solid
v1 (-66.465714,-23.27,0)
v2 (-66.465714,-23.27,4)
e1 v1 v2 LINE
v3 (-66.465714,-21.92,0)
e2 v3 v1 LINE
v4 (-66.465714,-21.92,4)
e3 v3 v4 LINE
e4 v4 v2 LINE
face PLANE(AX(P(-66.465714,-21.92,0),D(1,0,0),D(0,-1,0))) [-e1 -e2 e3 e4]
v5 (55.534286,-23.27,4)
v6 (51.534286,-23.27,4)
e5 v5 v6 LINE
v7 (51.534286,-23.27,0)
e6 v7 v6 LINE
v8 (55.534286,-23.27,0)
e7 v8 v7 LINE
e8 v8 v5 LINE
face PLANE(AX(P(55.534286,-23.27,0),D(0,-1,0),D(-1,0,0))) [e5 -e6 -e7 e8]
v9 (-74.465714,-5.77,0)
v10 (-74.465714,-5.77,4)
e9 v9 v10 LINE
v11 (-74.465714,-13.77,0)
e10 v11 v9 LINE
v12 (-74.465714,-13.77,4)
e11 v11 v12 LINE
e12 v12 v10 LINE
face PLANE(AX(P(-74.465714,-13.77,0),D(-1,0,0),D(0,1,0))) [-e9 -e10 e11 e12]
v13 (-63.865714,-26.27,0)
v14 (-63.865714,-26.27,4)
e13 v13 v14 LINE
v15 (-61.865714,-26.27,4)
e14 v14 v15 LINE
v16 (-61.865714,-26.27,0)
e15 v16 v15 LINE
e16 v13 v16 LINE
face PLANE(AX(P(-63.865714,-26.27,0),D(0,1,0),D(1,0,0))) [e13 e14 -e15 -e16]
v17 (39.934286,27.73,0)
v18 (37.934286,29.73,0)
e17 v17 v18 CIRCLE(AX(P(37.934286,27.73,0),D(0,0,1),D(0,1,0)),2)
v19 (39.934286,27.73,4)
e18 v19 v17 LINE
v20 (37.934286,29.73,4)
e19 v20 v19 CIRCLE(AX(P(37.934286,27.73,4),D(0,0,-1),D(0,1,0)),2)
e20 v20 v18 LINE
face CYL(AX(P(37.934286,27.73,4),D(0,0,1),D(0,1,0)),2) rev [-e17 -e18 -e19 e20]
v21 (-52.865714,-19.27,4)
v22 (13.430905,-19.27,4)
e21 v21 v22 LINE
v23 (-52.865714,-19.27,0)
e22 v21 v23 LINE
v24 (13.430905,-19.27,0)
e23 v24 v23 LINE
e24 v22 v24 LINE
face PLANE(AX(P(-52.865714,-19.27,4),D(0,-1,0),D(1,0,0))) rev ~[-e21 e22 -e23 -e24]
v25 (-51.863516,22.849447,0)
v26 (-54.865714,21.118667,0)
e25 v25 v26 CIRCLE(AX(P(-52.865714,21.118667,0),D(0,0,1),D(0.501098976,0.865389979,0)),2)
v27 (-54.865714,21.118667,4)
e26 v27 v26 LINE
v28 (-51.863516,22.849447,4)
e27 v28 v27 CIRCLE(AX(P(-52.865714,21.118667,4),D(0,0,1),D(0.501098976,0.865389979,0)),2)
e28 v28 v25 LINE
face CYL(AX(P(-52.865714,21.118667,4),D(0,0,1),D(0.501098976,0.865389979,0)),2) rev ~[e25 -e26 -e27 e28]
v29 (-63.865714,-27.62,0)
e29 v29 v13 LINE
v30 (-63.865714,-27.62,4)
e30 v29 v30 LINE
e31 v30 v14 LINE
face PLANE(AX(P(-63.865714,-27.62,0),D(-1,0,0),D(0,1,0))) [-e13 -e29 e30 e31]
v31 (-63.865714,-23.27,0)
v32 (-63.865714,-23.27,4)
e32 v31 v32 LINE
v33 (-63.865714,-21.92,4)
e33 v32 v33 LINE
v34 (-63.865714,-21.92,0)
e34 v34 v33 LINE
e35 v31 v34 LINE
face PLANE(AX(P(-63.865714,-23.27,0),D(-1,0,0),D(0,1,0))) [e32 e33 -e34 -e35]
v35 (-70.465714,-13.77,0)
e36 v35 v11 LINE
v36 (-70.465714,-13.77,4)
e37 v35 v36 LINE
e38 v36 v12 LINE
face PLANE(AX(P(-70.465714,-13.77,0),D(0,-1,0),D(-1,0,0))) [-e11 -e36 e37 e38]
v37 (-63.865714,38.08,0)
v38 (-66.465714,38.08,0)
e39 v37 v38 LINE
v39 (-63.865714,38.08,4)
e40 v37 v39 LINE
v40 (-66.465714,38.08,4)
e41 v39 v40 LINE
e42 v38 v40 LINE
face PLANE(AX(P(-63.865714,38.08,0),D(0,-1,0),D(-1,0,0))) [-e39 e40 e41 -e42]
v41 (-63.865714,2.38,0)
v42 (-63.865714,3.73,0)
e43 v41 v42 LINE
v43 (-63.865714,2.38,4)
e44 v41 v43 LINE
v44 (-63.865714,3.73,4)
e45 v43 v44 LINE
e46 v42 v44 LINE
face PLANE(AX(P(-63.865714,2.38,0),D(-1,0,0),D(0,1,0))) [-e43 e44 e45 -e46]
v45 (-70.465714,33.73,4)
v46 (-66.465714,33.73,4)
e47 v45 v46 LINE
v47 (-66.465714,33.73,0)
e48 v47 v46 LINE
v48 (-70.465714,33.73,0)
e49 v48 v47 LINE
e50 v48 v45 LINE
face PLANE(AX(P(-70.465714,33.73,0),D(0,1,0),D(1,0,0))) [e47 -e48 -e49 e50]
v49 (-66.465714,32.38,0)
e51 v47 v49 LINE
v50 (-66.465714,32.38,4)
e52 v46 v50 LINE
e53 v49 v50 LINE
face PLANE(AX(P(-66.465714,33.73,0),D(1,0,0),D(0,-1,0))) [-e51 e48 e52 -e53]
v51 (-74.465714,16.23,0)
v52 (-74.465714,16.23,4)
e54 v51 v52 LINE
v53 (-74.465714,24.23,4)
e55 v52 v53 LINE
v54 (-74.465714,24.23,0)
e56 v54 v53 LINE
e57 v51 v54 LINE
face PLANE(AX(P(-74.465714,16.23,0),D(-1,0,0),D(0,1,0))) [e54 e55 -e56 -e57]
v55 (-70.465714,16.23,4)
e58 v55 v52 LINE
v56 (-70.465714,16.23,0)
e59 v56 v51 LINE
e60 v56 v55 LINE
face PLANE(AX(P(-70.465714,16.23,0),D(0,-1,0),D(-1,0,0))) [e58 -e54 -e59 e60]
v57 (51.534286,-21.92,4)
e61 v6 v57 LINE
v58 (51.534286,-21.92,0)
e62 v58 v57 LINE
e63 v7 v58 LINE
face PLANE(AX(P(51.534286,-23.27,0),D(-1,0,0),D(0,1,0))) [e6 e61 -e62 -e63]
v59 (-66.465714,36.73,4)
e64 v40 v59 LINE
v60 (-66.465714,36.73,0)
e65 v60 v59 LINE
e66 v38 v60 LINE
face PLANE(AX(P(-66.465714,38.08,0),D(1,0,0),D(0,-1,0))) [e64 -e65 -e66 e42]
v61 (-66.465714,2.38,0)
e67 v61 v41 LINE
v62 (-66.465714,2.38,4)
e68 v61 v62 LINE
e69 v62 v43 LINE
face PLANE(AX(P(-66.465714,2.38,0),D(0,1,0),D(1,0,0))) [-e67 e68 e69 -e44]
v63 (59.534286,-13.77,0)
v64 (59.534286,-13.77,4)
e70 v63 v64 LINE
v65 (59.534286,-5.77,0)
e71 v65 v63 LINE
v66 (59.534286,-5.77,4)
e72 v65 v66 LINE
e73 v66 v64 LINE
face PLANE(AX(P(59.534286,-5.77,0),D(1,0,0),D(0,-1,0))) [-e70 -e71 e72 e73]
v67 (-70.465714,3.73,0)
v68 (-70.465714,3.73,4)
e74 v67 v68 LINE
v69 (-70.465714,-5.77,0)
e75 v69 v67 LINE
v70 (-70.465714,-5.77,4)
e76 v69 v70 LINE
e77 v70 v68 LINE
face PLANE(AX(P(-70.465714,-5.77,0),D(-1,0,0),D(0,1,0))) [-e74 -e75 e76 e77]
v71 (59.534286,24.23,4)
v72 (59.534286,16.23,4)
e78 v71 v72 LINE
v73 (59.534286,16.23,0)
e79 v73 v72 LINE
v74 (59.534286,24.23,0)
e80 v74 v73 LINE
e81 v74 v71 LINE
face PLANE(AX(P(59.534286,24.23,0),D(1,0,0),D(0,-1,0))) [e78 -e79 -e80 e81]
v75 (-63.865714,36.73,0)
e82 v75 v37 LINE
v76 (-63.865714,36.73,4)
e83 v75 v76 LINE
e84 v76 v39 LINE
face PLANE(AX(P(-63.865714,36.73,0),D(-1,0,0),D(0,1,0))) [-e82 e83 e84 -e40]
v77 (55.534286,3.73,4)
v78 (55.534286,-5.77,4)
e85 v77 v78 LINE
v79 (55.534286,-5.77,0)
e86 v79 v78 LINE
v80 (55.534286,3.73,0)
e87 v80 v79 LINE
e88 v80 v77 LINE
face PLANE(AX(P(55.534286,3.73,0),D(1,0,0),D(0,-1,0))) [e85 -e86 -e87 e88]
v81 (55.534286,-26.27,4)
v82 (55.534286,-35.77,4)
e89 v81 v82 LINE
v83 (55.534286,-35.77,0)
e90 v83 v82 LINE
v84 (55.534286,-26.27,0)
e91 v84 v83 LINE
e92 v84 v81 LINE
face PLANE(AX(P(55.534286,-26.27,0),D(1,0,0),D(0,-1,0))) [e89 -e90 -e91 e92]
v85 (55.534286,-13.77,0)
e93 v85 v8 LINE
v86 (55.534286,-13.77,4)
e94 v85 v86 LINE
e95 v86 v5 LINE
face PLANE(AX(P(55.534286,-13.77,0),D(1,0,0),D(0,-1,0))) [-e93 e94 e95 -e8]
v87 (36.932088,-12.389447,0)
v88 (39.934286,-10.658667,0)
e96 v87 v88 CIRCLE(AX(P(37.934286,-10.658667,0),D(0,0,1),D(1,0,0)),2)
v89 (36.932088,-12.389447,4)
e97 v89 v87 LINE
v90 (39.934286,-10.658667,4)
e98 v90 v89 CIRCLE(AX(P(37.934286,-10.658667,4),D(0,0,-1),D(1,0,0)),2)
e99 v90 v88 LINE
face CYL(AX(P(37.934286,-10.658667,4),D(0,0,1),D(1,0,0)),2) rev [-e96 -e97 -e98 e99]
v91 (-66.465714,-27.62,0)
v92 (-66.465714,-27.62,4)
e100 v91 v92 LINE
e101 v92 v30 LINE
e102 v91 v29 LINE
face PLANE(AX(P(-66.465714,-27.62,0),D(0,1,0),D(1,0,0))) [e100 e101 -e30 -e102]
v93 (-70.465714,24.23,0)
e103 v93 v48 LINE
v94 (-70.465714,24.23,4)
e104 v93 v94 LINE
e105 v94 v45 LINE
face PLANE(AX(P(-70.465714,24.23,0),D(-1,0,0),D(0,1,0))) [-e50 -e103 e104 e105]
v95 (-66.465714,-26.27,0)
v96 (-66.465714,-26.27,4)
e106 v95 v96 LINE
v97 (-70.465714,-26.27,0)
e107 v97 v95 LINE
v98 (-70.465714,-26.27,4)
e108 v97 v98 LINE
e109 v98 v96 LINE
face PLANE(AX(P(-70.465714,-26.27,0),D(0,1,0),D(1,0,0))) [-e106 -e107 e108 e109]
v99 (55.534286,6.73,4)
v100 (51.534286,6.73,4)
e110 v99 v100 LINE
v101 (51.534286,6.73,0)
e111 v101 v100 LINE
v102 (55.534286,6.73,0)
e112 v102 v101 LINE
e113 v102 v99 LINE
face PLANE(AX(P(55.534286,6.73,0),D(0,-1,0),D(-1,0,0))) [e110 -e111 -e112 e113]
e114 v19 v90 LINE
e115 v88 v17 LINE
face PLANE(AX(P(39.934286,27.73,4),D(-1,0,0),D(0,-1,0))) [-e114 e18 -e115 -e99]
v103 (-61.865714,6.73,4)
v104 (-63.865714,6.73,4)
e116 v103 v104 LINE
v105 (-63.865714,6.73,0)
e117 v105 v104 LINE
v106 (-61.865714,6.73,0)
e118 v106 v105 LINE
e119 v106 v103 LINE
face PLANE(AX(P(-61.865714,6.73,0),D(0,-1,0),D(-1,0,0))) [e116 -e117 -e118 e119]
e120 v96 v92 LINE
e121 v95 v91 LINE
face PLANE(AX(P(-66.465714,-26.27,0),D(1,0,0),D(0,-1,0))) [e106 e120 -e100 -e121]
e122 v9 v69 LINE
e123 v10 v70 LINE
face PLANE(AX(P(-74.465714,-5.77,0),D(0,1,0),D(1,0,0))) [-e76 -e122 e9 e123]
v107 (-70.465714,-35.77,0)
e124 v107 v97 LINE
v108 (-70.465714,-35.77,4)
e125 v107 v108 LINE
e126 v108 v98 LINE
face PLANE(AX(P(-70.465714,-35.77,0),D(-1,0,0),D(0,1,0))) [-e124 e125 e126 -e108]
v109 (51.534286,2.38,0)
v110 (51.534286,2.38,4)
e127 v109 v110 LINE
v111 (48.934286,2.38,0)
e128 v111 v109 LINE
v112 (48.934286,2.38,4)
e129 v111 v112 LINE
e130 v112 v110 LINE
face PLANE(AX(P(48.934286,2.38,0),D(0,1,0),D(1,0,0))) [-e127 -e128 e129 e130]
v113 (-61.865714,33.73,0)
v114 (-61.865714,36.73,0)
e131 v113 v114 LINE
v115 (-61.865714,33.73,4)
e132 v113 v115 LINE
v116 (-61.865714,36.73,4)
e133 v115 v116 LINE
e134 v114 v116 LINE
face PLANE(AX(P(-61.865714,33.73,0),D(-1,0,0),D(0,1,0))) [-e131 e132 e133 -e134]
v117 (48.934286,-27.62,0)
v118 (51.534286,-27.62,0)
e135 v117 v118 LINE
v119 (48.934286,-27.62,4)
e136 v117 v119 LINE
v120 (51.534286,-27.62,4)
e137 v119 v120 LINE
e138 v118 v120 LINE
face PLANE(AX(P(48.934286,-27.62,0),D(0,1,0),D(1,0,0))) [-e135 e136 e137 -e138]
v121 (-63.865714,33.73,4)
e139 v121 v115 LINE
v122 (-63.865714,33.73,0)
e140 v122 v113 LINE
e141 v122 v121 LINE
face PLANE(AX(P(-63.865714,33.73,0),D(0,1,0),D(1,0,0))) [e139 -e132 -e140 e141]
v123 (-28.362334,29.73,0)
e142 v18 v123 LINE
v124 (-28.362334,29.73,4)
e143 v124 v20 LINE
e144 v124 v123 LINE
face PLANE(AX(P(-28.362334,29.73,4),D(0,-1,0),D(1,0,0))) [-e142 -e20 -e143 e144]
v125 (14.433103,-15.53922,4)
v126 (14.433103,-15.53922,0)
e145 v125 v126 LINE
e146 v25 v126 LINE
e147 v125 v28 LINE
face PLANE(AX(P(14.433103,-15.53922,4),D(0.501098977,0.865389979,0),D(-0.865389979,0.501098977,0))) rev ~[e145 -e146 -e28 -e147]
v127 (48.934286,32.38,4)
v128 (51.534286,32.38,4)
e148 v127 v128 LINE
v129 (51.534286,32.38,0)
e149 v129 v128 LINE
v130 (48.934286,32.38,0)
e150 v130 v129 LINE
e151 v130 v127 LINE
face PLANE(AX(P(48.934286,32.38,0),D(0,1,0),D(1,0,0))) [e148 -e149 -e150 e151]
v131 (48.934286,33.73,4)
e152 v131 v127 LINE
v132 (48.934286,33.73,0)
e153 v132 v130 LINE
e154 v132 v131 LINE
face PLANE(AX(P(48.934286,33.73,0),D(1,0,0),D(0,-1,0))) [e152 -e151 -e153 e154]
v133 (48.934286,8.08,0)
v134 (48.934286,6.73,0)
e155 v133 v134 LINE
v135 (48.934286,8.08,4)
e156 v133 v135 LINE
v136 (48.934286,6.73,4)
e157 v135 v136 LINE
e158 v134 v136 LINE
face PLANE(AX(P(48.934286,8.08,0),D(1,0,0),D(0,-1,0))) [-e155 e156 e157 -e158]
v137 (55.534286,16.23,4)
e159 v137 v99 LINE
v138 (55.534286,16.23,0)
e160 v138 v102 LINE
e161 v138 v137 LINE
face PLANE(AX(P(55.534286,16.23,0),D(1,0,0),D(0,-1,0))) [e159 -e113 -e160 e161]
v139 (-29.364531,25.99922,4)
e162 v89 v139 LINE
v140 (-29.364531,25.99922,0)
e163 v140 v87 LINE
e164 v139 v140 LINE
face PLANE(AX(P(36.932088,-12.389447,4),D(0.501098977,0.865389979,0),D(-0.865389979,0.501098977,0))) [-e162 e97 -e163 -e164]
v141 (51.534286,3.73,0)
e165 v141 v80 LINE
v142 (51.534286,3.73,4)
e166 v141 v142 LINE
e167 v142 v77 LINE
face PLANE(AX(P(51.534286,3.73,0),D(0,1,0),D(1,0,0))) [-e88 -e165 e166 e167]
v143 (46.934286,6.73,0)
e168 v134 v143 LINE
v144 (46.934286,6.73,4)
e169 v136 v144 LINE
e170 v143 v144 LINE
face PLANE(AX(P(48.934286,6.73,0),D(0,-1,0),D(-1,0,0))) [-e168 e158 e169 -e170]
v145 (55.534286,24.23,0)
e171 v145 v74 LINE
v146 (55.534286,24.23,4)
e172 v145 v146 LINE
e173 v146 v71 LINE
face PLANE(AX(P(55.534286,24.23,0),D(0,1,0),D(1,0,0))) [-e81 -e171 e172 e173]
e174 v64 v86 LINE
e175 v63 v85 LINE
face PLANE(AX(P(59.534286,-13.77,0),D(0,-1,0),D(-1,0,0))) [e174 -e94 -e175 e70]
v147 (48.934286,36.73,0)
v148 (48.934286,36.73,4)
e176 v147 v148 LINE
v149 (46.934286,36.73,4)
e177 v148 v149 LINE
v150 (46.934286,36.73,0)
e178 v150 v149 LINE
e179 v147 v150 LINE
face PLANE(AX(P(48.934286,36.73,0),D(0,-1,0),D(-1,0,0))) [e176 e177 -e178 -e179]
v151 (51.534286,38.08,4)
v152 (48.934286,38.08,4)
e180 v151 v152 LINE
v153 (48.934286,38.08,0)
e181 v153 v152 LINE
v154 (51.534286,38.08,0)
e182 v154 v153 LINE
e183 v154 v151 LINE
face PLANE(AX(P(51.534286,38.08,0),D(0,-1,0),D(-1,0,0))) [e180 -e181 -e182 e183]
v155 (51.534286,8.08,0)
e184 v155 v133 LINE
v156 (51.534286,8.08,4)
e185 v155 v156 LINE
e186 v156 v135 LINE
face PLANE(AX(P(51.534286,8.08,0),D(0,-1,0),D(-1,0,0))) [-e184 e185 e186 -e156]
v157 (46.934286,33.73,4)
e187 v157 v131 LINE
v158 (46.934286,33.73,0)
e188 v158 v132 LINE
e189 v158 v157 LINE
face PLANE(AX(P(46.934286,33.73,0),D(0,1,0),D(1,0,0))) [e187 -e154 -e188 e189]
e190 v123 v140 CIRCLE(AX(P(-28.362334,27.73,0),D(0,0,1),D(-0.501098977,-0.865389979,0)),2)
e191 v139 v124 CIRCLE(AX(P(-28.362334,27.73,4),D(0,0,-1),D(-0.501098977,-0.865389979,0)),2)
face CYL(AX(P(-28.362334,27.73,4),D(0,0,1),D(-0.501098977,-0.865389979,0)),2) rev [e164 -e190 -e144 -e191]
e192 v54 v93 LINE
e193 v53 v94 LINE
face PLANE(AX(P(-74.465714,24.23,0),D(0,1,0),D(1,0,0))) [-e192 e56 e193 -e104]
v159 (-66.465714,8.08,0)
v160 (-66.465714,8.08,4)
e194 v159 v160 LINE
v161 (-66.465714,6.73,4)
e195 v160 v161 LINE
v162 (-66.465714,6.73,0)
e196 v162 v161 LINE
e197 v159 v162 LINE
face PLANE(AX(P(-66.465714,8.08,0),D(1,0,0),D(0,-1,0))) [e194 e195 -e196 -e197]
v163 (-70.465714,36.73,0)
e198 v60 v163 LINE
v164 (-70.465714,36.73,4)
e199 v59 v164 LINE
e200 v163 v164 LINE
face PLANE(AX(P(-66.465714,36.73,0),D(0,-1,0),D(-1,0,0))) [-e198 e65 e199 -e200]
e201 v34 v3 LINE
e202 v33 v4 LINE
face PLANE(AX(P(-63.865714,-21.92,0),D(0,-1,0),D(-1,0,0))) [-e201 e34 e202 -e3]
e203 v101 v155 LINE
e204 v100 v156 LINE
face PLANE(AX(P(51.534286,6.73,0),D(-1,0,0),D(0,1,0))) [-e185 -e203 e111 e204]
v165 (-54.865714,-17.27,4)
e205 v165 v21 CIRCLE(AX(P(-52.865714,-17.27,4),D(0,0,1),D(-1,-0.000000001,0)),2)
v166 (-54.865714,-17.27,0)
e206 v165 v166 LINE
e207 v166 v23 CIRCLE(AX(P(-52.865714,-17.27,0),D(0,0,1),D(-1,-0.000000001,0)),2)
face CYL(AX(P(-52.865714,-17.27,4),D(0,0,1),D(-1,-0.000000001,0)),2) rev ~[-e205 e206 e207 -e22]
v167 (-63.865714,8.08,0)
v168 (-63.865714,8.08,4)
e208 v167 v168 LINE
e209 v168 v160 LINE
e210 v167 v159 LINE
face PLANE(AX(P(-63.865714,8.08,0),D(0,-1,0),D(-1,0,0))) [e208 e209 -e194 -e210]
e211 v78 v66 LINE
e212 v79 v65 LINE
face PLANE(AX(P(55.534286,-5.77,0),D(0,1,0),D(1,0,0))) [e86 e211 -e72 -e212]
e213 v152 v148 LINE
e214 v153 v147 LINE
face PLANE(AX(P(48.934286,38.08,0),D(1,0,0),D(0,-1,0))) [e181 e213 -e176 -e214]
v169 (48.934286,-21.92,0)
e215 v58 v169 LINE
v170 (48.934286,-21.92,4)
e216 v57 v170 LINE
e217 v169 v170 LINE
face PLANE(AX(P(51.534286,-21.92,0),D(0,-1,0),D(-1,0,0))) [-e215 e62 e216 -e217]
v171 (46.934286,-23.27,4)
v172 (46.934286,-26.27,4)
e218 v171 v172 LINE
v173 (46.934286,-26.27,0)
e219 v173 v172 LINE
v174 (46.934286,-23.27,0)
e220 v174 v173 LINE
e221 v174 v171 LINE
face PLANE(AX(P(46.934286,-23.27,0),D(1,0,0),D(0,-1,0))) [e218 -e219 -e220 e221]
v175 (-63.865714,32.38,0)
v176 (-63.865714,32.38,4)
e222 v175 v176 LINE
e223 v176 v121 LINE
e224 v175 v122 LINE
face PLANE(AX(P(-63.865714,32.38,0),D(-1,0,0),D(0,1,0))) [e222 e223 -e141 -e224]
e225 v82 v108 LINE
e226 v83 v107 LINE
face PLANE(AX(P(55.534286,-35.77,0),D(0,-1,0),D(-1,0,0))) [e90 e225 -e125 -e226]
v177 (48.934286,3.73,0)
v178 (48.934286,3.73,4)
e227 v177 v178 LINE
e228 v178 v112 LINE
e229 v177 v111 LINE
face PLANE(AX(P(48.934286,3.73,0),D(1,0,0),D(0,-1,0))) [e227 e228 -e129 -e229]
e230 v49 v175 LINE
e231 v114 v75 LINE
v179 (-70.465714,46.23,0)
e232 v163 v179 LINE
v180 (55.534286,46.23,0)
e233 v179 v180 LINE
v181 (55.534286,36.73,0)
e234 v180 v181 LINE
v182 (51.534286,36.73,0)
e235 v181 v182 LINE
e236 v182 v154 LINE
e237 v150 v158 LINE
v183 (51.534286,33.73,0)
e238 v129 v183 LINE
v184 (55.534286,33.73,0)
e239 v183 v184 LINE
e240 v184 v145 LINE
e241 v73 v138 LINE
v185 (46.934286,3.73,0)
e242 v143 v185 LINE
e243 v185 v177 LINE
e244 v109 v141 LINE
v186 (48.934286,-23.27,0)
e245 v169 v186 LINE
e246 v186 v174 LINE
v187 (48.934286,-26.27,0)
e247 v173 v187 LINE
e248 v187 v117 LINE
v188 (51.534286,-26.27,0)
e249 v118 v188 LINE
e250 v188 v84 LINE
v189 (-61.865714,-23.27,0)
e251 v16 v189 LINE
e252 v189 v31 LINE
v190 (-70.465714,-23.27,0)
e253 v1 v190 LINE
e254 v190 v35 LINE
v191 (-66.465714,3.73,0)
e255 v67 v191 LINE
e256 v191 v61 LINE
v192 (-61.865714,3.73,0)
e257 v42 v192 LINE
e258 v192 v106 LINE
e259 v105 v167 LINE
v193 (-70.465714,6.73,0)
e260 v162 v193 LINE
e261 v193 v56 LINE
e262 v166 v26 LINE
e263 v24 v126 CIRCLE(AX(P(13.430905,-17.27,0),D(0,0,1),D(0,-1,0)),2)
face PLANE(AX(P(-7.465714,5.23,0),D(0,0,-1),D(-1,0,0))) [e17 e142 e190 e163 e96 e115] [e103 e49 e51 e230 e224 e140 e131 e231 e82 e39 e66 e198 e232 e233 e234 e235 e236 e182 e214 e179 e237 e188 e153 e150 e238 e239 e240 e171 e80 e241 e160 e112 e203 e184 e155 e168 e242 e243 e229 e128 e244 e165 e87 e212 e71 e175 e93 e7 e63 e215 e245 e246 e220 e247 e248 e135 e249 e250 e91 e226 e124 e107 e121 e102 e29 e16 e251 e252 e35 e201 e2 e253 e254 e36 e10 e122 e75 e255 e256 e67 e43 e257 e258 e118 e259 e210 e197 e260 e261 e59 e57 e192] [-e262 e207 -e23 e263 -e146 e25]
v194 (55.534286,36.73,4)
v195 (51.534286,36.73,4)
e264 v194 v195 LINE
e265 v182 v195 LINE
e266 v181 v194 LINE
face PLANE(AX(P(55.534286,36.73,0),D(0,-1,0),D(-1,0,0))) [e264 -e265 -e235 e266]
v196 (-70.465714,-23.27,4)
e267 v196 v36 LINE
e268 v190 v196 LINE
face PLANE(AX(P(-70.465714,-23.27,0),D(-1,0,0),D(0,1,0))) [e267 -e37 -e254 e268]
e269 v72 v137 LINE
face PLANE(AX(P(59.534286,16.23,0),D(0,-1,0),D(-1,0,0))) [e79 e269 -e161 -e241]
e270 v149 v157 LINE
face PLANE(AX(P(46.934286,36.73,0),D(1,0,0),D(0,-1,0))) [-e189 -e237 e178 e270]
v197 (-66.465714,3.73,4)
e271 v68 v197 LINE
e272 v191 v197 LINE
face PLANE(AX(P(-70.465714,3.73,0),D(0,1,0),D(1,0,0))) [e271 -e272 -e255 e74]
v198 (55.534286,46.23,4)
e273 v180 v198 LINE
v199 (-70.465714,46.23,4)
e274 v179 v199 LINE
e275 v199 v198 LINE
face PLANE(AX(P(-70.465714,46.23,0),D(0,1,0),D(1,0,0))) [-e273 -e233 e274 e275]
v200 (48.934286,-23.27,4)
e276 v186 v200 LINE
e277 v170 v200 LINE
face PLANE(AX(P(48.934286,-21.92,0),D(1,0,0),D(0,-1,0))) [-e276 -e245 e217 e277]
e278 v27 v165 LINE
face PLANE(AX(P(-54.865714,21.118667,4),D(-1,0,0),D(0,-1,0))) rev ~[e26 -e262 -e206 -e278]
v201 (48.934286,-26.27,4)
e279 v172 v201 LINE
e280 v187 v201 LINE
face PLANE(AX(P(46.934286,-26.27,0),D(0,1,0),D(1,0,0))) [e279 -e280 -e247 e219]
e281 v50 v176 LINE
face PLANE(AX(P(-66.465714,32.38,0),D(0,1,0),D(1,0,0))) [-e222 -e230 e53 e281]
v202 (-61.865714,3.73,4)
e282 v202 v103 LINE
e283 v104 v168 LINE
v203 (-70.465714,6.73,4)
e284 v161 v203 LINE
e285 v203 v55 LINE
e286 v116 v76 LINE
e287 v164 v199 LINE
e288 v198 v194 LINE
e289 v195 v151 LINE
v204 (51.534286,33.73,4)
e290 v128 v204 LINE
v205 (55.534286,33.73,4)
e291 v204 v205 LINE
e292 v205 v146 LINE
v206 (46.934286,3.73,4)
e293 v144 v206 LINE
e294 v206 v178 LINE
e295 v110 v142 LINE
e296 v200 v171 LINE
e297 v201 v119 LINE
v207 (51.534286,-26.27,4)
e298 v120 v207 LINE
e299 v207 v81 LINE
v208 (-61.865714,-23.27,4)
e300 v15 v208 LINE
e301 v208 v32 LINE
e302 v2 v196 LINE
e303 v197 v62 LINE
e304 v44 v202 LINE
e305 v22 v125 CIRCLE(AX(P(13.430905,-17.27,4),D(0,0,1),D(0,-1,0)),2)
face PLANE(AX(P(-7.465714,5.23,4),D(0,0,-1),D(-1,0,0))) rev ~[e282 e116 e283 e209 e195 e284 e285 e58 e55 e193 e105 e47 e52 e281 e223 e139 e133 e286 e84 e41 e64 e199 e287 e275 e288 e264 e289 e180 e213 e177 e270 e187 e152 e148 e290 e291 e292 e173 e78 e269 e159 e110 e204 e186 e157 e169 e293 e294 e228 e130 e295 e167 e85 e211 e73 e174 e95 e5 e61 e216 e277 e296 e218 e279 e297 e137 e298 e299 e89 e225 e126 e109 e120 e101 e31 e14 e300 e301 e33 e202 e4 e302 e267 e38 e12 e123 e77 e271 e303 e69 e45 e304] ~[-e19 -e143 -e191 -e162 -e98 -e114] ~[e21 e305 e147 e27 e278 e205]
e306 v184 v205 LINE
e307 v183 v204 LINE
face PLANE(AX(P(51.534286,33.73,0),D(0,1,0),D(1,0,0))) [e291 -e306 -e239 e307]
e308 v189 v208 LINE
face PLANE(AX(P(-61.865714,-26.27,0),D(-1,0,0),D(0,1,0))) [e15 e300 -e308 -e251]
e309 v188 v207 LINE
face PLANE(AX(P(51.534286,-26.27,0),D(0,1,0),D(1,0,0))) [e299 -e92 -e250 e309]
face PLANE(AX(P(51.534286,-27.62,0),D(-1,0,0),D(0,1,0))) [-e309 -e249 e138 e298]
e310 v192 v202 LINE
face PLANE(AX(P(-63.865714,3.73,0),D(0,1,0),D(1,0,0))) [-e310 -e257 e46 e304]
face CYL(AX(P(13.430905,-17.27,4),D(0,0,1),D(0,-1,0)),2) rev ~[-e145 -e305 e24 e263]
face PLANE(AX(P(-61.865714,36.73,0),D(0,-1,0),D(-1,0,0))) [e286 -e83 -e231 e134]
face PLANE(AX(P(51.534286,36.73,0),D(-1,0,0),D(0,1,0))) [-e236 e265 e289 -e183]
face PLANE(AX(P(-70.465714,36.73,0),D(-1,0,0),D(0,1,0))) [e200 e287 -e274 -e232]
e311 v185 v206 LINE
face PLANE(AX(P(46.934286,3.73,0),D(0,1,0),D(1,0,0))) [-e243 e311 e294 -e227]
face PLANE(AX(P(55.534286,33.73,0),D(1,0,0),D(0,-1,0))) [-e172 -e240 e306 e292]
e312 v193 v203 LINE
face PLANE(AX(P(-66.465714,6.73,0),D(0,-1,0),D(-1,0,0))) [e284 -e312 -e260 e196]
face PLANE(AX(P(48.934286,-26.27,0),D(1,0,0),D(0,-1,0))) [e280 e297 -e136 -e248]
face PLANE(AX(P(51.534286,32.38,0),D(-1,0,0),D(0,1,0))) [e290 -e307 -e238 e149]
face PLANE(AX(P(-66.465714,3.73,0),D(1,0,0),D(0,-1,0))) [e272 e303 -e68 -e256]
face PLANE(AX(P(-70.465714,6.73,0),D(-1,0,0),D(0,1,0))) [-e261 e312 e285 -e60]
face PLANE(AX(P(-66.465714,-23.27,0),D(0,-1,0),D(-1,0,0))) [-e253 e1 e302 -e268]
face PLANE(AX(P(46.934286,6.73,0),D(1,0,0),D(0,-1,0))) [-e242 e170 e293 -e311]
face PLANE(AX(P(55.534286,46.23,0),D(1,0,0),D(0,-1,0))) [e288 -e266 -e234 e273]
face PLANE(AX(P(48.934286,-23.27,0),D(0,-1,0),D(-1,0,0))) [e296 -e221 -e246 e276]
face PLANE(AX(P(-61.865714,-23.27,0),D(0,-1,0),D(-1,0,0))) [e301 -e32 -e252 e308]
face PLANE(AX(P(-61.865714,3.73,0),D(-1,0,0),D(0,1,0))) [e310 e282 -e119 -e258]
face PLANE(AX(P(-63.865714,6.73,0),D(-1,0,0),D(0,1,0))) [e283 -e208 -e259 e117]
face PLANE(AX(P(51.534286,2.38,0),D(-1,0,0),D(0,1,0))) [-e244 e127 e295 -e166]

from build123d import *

# Parameters (mm, degrees)
EXTRUDE_1_DEPTH     = 4
CUT_EXTRUDE_1_DEPTH = 10


with BuildPart() as part:
    # 草图1 → 凸台-拉伸1 (new body)
    with BuildSketch(Plane.XY):
        Polygon((55.534285714, 24.23), (59.534285714, 24.23), (59.534285714, 16.23), (55.534285714, 16.23), (55.534285714, 6.73), (51.534285714, 6.73), (51.534285714, 8.08), (48.934285714, 8.08), (48.934285714, 6.73), (46.934285714, 6.73), (46.934285714, 3.73), (48.934285714, 3.73), (48.934285714, 2.38), (51.534285714, 2.38), (51.534285714, 3.73), (55.534285714, 3.73), (55.534285714, -5.77), (59.534285714, -5.77), (59.534285714, -13.77), (55.534285714, -13.77), (55.534285714, -23.27), (51.534285714, -23.27), (51.534285714, -21.92), (48.934285714, -21.92), (48.934285714, -23.27), (46.934285714, -23.27), (46.934285714, -26.27), (48.934285714, -26.27), (48.934285714, -27.62), (51.534285714, -27.62), (51.534285714, -26.27), (55.534285714, -26.27), (55.534285714, -35.77), (-70.465714286, -35.77), (-70.465714286, -26.27), (-66.465714286, -26.27), (-66.465714286, -27.62), (-63.865714286, -27.62), (-63.865714286, -26.27), (-61.865714286, -26.27), (-61.865714286, -23.27), (-63.865714286, -23.27), (-63.865714286, -21.92), (-66.465714286, -21.92), (-66.465714286, -23.27), (-70.465714286, -23.27), (-70.465714286, -13.77), (-74.465714286, -13.77), (-74.465714286, -5.77), (-70.465714286, -5.77), (-70.465714286, 3.73), (-66.465714286, 3.73), (-66.465714286, 2.38), (-63.865714286, 2.38), (-63.865714286, 3.73), (-61.865714286, 3.73), (-61.865714286, 6.73), (-63.865714286, 6.73), (-63.865714286, 8.08), (-66.465714286, 8.08), (-66.465714286, 6.73), (-70.465714286, 6.73), (-70.465714286, 16.23), (-74.465714286, 16.23), (-74.465714286, 24.23), (-70.465714286, 24.23), (-70.465714286, 33.73), (-66.465714286, 33.73), (-66.465714286, 32.38), (-63.865714286, 32.38), (-63.865714286, 33.73), (-61.865714286, 33.73), (-61.865714286, 36.73), (-63.865714286, 36.73), (-63.865714286, 38.08), (-66.465714286, 38.08), (-66.465714286, 36.73), (-70.465714286, 36.73), (-70.465714286, 46.23), (55.534285714, 46.23), (55.534285714, 36.73), (51.534285714, 36.73), (51.534285714, 38.08), (48.934285714, 38.08), (48.934285714, 36.73), (46.934285714, 36.73), (46.934285714, 33.73), (48.934285714, 33.73), (48.934285714, 32.38), (51.534285714, 32.38), (51.534285714, 33.73), (55.534285714, 33.73), align=None)
    extrude(amount=EXTRUDE_1_DEPTH)

    # 草图3 → 切除-拉伸1 (cut)
    with BuildSketch(Plane.XY.offset(4)):
        with BuildLine():
            Line((14.43310292, -15.539220042), (-51.863516332, 22.849447356))
            ThreePointArc((-51.863516332, 22.849447356), (-53.864614704, 22.851352584), (-54.865714286, 21.118667398))
            Line((-54.865714286, 21.118667398), (-54.865714286, -17.27))
            ThreePointArc((-54.865714286, -17.27), (-54.279927848, -18.684213562), (-52.865714286, -19.27))
            Line((-52.865714286, -19.27), (13.430904966, -19.27))
            ThreePointArc((13.430904966, -19.27), (15.362427671, -17.788864185), (14.43310292, -15.539220042))
        make_face()
        with BuildLine():
            Line((-28.362333538, 29.73), (37.934285714, 29.73))
            ThreePointArc((37.934285714, 29.73), (39.348499277, 29.144213562), (39.934285714, 27.73))
            Line((39.934285714, 27.73), (39.934285714, -10.658667398))
            ThreePointArc((39.934285714, -10.658667398), (38.933186133, -12.391352584), (36.932087761, -12.389447356))
            Line((36.932087761, -12.389447356), (-29.364531491, 25.999220042))
            ThreePointArc((-29.364531491, 25.999220042), (-30.293856242, 28.248864185), (-28.362333538, 29.73))
        make_face()
    extrude(amount=-CUT_EXTRUDE_1_DEPTH, mode=Mode.SUBTRACT)


solid = part.part
